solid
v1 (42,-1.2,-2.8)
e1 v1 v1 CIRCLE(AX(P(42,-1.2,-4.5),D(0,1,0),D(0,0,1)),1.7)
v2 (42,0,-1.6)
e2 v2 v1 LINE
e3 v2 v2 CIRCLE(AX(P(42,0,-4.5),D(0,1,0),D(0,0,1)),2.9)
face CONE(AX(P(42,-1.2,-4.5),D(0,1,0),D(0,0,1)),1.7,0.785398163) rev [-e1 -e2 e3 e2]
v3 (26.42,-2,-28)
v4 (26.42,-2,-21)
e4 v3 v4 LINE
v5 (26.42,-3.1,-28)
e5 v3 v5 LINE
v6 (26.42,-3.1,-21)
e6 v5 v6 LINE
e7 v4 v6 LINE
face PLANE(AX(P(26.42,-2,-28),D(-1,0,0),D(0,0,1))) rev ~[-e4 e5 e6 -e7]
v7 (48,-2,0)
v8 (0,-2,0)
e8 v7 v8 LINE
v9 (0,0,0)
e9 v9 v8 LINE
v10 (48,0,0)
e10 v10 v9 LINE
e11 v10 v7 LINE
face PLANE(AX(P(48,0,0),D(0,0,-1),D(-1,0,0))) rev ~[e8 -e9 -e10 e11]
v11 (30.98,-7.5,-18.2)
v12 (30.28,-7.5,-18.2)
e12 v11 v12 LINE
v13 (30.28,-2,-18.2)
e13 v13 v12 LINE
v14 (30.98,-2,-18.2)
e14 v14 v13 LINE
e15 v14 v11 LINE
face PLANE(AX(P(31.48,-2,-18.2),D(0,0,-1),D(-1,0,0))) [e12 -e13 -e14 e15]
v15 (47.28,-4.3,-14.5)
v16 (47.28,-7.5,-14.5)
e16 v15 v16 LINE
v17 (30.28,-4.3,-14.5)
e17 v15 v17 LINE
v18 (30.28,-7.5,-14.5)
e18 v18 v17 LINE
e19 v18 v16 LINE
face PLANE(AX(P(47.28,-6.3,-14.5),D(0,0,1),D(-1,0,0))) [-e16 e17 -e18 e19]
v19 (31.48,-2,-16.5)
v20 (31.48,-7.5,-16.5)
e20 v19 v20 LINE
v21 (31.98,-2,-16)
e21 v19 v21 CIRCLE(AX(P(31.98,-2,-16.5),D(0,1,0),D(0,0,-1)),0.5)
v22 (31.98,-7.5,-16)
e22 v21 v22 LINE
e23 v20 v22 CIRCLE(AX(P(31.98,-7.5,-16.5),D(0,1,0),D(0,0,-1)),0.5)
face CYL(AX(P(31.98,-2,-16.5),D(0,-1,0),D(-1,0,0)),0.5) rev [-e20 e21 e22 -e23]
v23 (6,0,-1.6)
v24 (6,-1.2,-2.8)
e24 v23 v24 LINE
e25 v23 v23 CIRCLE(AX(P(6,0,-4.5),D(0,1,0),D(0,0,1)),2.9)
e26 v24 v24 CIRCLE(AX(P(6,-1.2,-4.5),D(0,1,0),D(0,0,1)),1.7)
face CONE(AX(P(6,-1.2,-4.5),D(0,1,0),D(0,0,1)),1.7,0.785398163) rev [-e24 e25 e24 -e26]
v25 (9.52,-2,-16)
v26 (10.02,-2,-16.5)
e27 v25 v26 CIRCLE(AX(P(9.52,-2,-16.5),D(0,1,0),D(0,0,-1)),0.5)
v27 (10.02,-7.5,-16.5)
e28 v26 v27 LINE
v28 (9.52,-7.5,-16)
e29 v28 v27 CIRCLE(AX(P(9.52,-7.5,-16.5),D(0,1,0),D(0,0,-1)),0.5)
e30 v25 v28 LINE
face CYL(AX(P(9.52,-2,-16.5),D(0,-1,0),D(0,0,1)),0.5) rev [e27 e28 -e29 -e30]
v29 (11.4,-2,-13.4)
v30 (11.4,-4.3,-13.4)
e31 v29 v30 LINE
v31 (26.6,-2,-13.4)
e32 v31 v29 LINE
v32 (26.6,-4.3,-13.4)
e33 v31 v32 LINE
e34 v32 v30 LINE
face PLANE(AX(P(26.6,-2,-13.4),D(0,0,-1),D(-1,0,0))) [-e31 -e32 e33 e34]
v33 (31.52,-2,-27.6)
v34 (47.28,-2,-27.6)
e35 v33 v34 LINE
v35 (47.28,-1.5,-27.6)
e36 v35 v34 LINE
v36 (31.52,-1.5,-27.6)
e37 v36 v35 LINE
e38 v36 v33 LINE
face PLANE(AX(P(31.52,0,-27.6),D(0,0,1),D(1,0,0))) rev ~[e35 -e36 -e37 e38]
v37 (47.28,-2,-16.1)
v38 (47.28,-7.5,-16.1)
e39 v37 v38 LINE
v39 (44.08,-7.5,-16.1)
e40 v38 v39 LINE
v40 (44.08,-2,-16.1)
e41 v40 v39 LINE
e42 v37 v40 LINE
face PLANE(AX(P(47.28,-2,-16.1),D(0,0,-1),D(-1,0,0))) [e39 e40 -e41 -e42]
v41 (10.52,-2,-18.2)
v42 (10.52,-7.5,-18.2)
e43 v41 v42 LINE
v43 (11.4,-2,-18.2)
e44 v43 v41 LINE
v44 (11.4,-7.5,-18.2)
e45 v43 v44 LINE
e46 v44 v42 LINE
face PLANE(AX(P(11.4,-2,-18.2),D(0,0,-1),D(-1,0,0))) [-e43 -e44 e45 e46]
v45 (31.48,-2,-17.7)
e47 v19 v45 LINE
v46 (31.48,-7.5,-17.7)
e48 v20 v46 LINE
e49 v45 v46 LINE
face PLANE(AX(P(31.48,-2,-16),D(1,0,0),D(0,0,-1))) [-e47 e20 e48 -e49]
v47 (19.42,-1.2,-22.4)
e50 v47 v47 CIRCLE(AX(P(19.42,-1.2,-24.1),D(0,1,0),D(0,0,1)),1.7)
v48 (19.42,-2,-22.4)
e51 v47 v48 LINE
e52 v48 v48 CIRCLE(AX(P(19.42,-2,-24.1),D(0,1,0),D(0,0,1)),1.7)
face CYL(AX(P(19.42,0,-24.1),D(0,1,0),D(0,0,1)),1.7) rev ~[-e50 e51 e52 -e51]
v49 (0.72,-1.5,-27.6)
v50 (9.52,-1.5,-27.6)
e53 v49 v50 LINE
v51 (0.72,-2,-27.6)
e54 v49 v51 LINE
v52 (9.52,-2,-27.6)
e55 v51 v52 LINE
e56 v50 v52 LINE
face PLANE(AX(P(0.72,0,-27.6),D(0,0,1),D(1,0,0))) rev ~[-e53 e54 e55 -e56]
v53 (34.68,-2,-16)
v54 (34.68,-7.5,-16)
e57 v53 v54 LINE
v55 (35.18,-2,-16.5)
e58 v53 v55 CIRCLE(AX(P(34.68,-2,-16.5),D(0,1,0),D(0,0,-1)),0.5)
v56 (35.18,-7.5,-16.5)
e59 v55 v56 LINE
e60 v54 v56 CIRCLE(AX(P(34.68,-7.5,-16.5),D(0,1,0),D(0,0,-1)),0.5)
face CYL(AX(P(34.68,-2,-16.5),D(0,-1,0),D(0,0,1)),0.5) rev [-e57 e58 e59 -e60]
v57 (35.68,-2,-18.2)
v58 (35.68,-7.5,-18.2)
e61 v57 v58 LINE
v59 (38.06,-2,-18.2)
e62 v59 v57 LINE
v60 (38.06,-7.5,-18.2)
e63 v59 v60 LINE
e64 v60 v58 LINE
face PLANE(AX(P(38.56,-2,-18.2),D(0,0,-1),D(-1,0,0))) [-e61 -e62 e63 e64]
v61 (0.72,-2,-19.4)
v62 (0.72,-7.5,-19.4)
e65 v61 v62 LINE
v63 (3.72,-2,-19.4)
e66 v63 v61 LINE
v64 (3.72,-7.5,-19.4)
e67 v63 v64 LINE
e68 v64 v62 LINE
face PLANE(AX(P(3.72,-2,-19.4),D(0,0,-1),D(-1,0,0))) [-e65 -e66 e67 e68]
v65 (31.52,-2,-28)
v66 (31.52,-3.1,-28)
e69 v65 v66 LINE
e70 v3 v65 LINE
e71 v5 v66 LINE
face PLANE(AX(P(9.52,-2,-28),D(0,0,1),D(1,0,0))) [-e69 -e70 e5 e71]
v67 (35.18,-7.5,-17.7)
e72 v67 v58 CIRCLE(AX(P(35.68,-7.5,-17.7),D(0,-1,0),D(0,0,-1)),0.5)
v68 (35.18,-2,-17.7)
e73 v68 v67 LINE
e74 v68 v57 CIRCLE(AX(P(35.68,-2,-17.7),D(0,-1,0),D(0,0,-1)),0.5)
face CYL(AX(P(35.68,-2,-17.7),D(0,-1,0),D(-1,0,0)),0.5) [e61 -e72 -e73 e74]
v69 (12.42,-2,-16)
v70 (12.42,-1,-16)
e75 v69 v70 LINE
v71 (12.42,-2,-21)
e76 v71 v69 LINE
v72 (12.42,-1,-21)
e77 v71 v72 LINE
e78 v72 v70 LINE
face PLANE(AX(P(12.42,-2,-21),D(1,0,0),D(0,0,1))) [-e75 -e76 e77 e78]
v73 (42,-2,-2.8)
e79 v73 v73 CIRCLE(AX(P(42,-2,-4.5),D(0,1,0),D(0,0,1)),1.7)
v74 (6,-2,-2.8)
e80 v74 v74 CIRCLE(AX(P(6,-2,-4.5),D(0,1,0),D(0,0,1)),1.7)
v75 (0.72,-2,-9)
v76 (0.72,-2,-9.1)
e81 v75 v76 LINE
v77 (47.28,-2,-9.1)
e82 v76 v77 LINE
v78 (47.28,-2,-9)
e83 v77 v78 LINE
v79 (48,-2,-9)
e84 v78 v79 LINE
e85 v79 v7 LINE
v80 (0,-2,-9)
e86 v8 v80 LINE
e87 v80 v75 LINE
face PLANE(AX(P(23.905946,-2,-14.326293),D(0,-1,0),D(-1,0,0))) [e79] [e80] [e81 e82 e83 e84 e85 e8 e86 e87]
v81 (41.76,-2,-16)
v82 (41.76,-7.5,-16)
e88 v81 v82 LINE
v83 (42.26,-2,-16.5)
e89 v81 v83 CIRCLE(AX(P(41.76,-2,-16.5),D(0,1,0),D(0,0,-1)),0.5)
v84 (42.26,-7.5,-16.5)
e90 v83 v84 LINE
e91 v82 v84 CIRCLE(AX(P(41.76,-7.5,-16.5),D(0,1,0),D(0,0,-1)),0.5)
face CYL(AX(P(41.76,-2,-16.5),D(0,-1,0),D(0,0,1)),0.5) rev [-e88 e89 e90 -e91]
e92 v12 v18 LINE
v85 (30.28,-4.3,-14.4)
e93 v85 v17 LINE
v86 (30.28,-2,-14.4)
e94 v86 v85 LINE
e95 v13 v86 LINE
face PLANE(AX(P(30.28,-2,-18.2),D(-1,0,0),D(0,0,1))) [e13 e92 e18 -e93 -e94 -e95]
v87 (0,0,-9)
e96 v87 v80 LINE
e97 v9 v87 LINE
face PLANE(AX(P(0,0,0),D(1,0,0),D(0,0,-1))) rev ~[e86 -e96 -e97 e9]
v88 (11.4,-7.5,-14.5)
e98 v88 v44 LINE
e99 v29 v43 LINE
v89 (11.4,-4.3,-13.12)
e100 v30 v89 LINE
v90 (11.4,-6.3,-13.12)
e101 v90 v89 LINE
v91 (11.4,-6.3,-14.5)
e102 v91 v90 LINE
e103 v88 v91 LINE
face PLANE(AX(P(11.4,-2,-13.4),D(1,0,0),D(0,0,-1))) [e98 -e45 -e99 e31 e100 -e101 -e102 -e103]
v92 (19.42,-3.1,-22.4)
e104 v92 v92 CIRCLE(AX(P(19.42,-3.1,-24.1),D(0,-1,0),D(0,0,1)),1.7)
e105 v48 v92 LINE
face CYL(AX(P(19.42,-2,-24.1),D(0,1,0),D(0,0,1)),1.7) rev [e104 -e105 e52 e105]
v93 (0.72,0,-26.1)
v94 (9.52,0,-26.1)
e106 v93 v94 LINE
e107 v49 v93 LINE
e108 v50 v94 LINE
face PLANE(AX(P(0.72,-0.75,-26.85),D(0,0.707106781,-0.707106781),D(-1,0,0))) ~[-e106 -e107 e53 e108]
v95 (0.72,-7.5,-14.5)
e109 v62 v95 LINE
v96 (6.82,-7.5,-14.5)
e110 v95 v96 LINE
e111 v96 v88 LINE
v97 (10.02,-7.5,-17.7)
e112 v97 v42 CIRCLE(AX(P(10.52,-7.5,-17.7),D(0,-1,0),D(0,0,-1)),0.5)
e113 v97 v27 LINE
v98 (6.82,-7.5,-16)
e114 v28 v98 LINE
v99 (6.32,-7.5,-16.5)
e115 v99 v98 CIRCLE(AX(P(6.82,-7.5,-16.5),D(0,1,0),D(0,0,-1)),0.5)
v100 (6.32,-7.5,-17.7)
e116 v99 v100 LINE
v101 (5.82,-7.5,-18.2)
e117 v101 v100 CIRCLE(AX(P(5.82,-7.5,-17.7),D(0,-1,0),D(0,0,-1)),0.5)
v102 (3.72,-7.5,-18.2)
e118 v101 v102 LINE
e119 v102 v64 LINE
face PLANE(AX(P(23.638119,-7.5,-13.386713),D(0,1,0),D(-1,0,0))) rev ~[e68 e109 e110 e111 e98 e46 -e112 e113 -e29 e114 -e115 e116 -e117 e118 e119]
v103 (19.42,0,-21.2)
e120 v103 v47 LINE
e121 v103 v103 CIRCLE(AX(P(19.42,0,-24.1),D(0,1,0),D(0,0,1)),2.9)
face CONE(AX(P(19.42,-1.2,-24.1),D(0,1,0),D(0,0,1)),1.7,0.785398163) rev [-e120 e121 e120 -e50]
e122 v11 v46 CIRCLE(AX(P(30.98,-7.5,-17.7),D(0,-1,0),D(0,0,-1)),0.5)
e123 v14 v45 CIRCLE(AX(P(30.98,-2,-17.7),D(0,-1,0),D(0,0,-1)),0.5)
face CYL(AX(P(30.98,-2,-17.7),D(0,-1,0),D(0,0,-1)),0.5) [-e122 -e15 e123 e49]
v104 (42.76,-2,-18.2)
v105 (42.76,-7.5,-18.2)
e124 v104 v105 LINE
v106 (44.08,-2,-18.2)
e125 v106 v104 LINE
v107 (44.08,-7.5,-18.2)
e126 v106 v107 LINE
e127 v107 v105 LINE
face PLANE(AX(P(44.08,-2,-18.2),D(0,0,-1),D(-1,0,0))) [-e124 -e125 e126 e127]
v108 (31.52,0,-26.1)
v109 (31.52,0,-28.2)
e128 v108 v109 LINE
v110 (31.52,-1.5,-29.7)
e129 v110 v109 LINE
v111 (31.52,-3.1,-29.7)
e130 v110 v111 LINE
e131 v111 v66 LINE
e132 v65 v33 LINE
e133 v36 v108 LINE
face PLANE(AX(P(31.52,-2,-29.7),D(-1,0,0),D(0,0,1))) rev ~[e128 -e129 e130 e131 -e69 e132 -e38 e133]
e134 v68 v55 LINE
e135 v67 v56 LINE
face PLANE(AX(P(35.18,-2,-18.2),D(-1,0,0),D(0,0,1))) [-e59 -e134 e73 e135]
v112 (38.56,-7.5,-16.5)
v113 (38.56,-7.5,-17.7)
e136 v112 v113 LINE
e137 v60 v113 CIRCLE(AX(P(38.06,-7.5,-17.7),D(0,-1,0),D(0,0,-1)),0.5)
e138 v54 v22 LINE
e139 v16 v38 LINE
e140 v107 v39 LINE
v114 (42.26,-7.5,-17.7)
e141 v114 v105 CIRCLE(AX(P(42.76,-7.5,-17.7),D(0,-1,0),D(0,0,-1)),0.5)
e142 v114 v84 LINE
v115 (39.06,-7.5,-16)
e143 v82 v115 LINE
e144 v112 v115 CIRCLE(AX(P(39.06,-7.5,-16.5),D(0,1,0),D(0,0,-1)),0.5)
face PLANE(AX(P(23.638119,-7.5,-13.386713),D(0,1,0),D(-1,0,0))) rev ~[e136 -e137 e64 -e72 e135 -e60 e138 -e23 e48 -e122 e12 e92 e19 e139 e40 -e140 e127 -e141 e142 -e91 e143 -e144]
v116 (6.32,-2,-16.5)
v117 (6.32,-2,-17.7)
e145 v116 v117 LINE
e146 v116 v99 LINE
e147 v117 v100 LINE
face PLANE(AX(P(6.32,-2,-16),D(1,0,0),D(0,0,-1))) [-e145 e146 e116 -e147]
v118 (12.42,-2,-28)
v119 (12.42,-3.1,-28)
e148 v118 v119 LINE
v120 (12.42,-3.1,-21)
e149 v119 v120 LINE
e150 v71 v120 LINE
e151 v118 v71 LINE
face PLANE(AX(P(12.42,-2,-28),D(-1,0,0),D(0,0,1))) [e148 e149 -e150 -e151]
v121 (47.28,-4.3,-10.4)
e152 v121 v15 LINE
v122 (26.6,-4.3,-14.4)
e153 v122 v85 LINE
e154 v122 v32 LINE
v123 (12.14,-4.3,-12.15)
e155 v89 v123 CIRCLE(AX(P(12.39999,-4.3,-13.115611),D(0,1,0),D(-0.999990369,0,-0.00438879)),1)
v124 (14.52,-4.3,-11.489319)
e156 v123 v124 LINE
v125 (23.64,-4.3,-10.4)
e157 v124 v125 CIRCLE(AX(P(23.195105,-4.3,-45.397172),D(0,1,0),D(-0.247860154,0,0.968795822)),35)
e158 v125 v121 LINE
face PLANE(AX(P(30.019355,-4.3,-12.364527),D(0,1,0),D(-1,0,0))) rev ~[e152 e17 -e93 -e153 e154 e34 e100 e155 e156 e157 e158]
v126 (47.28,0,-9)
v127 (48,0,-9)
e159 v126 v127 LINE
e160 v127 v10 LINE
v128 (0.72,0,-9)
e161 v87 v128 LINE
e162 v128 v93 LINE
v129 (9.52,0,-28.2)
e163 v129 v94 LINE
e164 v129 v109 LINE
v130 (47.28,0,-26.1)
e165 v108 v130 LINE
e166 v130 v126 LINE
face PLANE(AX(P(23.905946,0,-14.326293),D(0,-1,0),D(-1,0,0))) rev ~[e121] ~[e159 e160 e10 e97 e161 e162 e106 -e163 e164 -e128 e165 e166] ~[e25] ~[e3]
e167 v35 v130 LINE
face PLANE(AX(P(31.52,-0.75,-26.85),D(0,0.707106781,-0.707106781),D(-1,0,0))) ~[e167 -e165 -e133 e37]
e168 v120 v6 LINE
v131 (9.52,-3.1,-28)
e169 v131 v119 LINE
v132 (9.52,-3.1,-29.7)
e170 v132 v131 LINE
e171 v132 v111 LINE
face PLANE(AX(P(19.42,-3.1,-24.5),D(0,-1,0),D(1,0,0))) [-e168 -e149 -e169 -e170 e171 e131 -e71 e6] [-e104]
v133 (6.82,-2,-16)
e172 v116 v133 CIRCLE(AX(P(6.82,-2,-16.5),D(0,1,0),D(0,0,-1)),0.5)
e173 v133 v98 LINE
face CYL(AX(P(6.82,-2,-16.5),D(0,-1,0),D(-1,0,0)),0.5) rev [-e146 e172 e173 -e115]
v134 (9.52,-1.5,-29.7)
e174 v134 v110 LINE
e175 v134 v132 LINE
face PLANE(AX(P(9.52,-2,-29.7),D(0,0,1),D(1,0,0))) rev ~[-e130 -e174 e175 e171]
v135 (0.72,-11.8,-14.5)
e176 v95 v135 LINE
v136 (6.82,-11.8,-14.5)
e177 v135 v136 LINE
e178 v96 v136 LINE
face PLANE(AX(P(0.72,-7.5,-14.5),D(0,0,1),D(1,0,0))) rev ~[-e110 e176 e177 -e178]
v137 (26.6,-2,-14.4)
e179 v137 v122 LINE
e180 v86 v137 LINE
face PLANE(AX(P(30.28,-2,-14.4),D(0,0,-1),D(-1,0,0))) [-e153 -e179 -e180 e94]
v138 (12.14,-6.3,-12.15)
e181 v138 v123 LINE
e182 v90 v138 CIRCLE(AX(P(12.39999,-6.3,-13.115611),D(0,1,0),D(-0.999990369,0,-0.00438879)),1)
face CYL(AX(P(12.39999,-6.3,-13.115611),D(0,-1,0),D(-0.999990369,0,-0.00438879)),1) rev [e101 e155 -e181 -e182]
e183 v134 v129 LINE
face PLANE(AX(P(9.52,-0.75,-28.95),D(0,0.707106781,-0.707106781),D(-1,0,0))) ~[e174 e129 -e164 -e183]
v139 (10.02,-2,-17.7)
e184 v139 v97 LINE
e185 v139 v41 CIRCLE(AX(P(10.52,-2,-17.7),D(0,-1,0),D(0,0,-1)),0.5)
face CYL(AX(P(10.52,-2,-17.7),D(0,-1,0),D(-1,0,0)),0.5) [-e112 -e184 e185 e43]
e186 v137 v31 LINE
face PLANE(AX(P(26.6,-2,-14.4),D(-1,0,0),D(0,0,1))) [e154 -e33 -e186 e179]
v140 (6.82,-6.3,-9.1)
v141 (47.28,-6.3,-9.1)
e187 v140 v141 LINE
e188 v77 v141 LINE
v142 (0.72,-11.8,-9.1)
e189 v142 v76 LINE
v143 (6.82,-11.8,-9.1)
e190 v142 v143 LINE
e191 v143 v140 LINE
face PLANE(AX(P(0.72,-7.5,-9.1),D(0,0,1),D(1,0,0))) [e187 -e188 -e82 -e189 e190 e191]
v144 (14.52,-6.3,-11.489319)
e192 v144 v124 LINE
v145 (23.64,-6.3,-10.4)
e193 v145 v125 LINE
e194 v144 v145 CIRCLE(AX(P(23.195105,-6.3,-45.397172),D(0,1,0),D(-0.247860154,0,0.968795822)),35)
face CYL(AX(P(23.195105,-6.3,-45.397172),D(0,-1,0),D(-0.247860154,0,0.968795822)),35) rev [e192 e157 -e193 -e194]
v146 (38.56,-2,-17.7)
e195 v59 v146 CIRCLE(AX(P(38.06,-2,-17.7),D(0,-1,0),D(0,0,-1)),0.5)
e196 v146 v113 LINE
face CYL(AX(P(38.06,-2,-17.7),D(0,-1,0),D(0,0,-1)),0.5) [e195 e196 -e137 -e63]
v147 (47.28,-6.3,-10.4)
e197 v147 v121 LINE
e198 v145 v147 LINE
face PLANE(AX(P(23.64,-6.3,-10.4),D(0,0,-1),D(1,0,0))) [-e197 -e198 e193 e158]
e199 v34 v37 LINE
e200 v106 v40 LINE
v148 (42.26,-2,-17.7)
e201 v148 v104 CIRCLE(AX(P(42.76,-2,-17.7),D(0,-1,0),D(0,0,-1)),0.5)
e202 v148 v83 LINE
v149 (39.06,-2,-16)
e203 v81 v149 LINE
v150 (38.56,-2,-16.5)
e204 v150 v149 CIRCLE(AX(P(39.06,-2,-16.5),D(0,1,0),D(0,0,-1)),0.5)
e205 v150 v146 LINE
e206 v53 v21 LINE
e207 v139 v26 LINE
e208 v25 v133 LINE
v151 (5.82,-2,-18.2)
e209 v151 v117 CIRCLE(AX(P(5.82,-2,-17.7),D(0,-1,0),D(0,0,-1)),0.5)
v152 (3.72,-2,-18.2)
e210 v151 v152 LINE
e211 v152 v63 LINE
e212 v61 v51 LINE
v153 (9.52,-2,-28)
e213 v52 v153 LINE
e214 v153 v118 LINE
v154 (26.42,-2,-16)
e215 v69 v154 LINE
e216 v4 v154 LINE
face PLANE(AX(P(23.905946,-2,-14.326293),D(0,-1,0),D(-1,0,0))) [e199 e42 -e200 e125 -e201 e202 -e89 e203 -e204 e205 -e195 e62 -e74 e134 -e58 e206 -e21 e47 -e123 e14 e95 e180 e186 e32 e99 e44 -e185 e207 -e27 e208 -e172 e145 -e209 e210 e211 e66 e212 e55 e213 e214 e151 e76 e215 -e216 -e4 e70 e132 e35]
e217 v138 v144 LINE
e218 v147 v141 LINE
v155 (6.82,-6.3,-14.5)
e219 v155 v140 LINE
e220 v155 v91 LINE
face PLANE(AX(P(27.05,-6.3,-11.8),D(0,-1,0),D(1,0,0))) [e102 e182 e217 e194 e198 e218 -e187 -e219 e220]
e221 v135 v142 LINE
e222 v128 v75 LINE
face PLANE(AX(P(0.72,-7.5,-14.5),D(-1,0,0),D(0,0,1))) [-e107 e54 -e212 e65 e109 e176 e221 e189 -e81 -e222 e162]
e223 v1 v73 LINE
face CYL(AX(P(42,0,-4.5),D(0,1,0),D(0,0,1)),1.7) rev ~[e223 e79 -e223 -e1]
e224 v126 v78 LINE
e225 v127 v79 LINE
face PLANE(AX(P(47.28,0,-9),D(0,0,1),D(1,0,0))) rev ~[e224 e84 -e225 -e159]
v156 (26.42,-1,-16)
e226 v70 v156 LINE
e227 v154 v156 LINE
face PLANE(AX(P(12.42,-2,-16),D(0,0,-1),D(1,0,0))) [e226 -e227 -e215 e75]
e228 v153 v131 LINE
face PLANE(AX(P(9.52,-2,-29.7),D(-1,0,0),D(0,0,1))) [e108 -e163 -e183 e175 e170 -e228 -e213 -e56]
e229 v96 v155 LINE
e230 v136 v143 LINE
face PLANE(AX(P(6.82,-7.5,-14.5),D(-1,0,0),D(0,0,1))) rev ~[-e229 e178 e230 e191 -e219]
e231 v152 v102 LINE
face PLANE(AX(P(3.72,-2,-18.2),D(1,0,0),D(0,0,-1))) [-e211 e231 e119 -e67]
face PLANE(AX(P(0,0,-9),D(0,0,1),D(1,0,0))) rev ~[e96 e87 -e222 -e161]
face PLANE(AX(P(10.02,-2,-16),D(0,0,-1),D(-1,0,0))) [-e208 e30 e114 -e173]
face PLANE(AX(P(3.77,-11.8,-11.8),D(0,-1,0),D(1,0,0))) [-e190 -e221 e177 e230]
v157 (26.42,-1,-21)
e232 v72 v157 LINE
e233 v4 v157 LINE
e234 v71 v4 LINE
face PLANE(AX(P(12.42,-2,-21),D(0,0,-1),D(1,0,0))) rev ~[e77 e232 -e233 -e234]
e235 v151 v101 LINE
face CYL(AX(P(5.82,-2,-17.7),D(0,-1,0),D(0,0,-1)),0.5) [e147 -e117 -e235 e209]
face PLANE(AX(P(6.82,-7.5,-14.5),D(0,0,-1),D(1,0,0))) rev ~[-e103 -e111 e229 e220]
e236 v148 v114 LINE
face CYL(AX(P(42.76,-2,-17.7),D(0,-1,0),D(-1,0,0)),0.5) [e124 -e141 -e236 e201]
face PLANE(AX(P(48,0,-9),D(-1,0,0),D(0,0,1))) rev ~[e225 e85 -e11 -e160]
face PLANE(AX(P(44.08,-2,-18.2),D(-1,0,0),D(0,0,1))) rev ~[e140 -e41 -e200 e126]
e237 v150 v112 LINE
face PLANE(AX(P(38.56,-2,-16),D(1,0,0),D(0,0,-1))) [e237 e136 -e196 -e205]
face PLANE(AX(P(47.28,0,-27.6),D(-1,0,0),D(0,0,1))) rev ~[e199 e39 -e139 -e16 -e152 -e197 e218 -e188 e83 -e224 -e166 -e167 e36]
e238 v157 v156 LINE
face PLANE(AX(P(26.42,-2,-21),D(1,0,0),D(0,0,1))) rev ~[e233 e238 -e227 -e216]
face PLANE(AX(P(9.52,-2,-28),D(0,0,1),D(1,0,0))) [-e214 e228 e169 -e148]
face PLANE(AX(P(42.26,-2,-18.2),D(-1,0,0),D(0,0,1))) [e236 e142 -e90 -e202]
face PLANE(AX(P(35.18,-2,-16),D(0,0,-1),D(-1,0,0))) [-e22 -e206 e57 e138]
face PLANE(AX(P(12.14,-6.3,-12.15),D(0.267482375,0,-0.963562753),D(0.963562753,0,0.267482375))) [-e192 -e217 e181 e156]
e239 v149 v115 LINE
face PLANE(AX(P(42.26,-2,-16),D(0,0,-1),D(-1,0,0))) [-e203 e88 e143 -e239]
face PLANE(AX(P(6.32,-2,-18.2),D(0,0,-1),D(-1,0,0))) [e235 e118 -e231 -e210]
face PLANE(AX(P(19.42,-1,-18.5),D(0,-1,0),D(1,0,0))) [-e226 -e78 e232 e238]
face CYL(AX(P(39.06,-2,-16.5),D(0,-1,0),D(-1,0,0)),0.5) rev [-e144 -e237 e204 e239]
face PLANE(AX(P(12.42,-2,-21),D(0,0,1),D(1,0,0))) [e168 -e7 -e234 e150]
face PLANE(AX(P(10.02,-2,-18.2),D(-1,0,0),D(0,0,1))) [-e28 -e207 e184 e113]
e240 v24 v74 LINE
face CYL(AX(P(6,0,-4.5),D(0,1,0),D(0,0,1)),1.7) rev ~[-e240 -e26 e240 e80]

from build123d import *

# Parameters (mm, degrees)
SKETCH1_R           = 1.7
BOSS_EXTRUDE1_DEPTH = 2
CHAMFER1_SIZE       = 1.5
CHAMFER2_SIZE       = 1.2
SKETCH2_W           = 22
SKETCH2_H           = 1.7
BOSS_EXTRUDE2_DEPTH = 1.1
SKETCH3_W           = 14
SKETCH3_H           = 7
SKETCH3_R           = 1.7
BOSS_EXTRUDE3_DEPTH = 1.1
BOSS_EXTRUDE4_DEPTH = 5.5
FILLET1_R           = 0.5
SKETCH5_W           = 6.1
SKETCH5_H           = 5.4
BOSS_EXTRUDE5_DEPTH = 4.3
SKETCH6_W           = 40.46
SKETCH6_H           = 5.4
CUT_EXTRUDE1_DEPTH  = 1.2
CUT_EXTRUDE2_DEPTH  = 2
SKETCH8_W           = 14
SKETCH8_H           = 5
CUT_EXTRUDE3_DEPTH  = 1


with BuildPart() as part:
    # Sketch1 → Boss-Extrude1 (new body)
    with BuildSketch(Plane(origin=(0, 0, 0), x_dir=(1, 0, 0), z_dir=(0, 1, 0))):
        Polygon((0, 0), (0, 9), (0.72, 9), (0.72, 27.6), (9.52, 27.6), (9.52, 29.7), (31.52, 29.7), (31.52, 27.6), (47.28, 27.6), (47.28, 9), (48, 9), (48, 0), align=None)
        with Locations(Location((19.42, 24.1, 0), (0, 0, 270))):
            Circle(SKETCH1_R, mode=Mode.SUBTRACT)
        with Locations(Location((6, 4.5, 0), (0, 0, 270))):
            Circle(SKETCH1_R, mode=Mode.SUBTRACT)
        with Locations(Location((42, 4.5, 0), (0, 0, 270))):
            Circle(SKETCH1_R, mode=Mode.SUBTRACT)
    extrude(amount=-BOSS_EXTRUDE1_DEPTH)

    # Chamfer1
    chamfer1_edges = [part.edges().sort_by_distance(p)[0] for p in [
        (5.12, 0, -27.6),
        (20.52, 0, -29.7),
        (39.4, 0, -27.6),
    ]]
    chamfer(chamfer1_edges, length=CHAMFER1_SIZE)

    # Chamfer2
    chamfer2_edges = [part.edges().sort_by_distance(p)[0] for p in [
        (19.42, 0, -25.8),
        (6, 0, -6.2),
        (42, 0, -6.2),
    ]]
    chamfer(chamfer2_edges, length=CHAMFER2_SIZE)

    # Sketch2 → Boss-Extrude2 (add)
    with BuildSketch(Plane.XZ.offset(2)):
        with Locations((20.52, -28.85)):
            Rectangle(SKETCH2_W, SKETCH2_H)
    extrude(amount=BOSS_EXTRUDE2_DEPTH)

    # Sketch3 → Boss-Extrude3 (add)
    with BuildSketch(Plane.XZ.offset(2)):
        with Locations((19.42, -24.5)):
            Rectangle(SKETCH3_W, SKETCH3_H)
        with Locations(Location((19.42, -24.1, 0), (0, 0, 90))):
            Circle(SKETCH3_R, mode=Mode.SUBTRACT)
    extrude(amount=BOSS_EXTRUDE3_DEPTH)

    # Sketch4 → Boss-Extrude4 (add)
    with BuildSketch(Plane.XZ.offset(2)):
        Polygon((0.72, -9.1), (47.28, -9.1), (47.28, -16.1), (44.08, -16.1), (44.08, -16.3), (44.08, -18.2), (42.26, -18.2), (42.26, -16), (38.56, -16), (38.56, -18.2), (35.18, -18.2), (35.18, -16), (31.48, -16), (31.48, -18.2), (30.28, -18.2), (30.28, -14.4), (26.6, -14.4), (26.6, -13.4), (11.4, -13.4), (11.4, -18.2), (10.02, -18.2), (10.02, -16), (6.32, -16), (6.32, -18.2), (3.72, -18.2), (3.72, -19.4), (0.72, -19.4), align=None)
    extrude(amount=BOSS_EXTRUDE4_DEPTH)

    # Fillet1
    fillet1_edges = [part.edges().sort_by_distance(p)[0] for p in [
        (6.32, -4.75, -18.2),
        (6.32, -4.75, -16),
        (10.02, -4.75, -16),
        (10.02, -4.75, -18.2),
        (31.48, -4.75, -18.2),
        (31.48, -4.75, -16),
        (35.18, -4.75, -16),
        (35.18, -4.75, -18.2),
        (38.56, -4.75, -18.2),
        (38.56, -4.75, -16),
        (42.26, -4.75, -16),
        (42.26, -4.75, -18.2),
    ]]
    fillet(fillet1_edges, radius=FILLET1_R)

    # Sketch5 → Boss-Extrude5 (add)
    with BuildSketch(Plane.XZ.offset(7.5)):
        with Locations((3.77, -11.8)):
            Rectangle(SKETCH5_W, SKETCH5_H)
    extrude(amount=BOSS_EXTRUDE5_DEPTH)

    # Sketch6 → Cut-Extrude1 (cut)
    with BuildSketch(Plane.XZ.offset(7.5)):
        with Locations((27.05, -11.8)):
            Rectangle(SKETCH6_W, SKETCH6_H)
    extrude(amount=-CUT_EXTRUDE1_DEPTH, mode=Mode.SUBTRACT)

    # Sketch7 → Cut-Extrude2 (cut)
    with BuildSketch(Plane.XZ.offset(6.3)):
        with BuildLine():
            Line((11.4, -13.4), (11.4, -13.12))
            ThreePointArc((11.4, -13.12), (11.60493511, -12.509074208), (12.14, -12.15))
            Line((12.14, -12.15), (14.52, -11.489318534))
            ThreePointArc((14.52, -11.489318534), (19.044112004, -10.644197545), (23.64, -10.4))
            Line((23.64, -10.4), (47.28, -10.4))
            Line((47.28, -10.4), (47.28, -14.5))
            Line((47.28, -14.5), (26.6, -14.5))
            Line((26.6, -14.5), (26.6, -13.4))
            Line((26.6, -13.4), (11.4, -13.4))
        make_face()
    extrude(amount=-CUT_EXTRUDE2_DEPTH, mode=Mode.SUBTRACT)

    # Sketch8 → Cut-Extrude3 (cut)
    with BuildSketch(Plane.XZ.offset(2)):
        with Locations((19.42, -18.5)):
            Rectangle(SKETCH8_W, SKETCH8_H)
    extrude(amount=-CUT_EXTRUDE3_DEPTH, mode=Mode.SUBTRACT)


solid = part.part
